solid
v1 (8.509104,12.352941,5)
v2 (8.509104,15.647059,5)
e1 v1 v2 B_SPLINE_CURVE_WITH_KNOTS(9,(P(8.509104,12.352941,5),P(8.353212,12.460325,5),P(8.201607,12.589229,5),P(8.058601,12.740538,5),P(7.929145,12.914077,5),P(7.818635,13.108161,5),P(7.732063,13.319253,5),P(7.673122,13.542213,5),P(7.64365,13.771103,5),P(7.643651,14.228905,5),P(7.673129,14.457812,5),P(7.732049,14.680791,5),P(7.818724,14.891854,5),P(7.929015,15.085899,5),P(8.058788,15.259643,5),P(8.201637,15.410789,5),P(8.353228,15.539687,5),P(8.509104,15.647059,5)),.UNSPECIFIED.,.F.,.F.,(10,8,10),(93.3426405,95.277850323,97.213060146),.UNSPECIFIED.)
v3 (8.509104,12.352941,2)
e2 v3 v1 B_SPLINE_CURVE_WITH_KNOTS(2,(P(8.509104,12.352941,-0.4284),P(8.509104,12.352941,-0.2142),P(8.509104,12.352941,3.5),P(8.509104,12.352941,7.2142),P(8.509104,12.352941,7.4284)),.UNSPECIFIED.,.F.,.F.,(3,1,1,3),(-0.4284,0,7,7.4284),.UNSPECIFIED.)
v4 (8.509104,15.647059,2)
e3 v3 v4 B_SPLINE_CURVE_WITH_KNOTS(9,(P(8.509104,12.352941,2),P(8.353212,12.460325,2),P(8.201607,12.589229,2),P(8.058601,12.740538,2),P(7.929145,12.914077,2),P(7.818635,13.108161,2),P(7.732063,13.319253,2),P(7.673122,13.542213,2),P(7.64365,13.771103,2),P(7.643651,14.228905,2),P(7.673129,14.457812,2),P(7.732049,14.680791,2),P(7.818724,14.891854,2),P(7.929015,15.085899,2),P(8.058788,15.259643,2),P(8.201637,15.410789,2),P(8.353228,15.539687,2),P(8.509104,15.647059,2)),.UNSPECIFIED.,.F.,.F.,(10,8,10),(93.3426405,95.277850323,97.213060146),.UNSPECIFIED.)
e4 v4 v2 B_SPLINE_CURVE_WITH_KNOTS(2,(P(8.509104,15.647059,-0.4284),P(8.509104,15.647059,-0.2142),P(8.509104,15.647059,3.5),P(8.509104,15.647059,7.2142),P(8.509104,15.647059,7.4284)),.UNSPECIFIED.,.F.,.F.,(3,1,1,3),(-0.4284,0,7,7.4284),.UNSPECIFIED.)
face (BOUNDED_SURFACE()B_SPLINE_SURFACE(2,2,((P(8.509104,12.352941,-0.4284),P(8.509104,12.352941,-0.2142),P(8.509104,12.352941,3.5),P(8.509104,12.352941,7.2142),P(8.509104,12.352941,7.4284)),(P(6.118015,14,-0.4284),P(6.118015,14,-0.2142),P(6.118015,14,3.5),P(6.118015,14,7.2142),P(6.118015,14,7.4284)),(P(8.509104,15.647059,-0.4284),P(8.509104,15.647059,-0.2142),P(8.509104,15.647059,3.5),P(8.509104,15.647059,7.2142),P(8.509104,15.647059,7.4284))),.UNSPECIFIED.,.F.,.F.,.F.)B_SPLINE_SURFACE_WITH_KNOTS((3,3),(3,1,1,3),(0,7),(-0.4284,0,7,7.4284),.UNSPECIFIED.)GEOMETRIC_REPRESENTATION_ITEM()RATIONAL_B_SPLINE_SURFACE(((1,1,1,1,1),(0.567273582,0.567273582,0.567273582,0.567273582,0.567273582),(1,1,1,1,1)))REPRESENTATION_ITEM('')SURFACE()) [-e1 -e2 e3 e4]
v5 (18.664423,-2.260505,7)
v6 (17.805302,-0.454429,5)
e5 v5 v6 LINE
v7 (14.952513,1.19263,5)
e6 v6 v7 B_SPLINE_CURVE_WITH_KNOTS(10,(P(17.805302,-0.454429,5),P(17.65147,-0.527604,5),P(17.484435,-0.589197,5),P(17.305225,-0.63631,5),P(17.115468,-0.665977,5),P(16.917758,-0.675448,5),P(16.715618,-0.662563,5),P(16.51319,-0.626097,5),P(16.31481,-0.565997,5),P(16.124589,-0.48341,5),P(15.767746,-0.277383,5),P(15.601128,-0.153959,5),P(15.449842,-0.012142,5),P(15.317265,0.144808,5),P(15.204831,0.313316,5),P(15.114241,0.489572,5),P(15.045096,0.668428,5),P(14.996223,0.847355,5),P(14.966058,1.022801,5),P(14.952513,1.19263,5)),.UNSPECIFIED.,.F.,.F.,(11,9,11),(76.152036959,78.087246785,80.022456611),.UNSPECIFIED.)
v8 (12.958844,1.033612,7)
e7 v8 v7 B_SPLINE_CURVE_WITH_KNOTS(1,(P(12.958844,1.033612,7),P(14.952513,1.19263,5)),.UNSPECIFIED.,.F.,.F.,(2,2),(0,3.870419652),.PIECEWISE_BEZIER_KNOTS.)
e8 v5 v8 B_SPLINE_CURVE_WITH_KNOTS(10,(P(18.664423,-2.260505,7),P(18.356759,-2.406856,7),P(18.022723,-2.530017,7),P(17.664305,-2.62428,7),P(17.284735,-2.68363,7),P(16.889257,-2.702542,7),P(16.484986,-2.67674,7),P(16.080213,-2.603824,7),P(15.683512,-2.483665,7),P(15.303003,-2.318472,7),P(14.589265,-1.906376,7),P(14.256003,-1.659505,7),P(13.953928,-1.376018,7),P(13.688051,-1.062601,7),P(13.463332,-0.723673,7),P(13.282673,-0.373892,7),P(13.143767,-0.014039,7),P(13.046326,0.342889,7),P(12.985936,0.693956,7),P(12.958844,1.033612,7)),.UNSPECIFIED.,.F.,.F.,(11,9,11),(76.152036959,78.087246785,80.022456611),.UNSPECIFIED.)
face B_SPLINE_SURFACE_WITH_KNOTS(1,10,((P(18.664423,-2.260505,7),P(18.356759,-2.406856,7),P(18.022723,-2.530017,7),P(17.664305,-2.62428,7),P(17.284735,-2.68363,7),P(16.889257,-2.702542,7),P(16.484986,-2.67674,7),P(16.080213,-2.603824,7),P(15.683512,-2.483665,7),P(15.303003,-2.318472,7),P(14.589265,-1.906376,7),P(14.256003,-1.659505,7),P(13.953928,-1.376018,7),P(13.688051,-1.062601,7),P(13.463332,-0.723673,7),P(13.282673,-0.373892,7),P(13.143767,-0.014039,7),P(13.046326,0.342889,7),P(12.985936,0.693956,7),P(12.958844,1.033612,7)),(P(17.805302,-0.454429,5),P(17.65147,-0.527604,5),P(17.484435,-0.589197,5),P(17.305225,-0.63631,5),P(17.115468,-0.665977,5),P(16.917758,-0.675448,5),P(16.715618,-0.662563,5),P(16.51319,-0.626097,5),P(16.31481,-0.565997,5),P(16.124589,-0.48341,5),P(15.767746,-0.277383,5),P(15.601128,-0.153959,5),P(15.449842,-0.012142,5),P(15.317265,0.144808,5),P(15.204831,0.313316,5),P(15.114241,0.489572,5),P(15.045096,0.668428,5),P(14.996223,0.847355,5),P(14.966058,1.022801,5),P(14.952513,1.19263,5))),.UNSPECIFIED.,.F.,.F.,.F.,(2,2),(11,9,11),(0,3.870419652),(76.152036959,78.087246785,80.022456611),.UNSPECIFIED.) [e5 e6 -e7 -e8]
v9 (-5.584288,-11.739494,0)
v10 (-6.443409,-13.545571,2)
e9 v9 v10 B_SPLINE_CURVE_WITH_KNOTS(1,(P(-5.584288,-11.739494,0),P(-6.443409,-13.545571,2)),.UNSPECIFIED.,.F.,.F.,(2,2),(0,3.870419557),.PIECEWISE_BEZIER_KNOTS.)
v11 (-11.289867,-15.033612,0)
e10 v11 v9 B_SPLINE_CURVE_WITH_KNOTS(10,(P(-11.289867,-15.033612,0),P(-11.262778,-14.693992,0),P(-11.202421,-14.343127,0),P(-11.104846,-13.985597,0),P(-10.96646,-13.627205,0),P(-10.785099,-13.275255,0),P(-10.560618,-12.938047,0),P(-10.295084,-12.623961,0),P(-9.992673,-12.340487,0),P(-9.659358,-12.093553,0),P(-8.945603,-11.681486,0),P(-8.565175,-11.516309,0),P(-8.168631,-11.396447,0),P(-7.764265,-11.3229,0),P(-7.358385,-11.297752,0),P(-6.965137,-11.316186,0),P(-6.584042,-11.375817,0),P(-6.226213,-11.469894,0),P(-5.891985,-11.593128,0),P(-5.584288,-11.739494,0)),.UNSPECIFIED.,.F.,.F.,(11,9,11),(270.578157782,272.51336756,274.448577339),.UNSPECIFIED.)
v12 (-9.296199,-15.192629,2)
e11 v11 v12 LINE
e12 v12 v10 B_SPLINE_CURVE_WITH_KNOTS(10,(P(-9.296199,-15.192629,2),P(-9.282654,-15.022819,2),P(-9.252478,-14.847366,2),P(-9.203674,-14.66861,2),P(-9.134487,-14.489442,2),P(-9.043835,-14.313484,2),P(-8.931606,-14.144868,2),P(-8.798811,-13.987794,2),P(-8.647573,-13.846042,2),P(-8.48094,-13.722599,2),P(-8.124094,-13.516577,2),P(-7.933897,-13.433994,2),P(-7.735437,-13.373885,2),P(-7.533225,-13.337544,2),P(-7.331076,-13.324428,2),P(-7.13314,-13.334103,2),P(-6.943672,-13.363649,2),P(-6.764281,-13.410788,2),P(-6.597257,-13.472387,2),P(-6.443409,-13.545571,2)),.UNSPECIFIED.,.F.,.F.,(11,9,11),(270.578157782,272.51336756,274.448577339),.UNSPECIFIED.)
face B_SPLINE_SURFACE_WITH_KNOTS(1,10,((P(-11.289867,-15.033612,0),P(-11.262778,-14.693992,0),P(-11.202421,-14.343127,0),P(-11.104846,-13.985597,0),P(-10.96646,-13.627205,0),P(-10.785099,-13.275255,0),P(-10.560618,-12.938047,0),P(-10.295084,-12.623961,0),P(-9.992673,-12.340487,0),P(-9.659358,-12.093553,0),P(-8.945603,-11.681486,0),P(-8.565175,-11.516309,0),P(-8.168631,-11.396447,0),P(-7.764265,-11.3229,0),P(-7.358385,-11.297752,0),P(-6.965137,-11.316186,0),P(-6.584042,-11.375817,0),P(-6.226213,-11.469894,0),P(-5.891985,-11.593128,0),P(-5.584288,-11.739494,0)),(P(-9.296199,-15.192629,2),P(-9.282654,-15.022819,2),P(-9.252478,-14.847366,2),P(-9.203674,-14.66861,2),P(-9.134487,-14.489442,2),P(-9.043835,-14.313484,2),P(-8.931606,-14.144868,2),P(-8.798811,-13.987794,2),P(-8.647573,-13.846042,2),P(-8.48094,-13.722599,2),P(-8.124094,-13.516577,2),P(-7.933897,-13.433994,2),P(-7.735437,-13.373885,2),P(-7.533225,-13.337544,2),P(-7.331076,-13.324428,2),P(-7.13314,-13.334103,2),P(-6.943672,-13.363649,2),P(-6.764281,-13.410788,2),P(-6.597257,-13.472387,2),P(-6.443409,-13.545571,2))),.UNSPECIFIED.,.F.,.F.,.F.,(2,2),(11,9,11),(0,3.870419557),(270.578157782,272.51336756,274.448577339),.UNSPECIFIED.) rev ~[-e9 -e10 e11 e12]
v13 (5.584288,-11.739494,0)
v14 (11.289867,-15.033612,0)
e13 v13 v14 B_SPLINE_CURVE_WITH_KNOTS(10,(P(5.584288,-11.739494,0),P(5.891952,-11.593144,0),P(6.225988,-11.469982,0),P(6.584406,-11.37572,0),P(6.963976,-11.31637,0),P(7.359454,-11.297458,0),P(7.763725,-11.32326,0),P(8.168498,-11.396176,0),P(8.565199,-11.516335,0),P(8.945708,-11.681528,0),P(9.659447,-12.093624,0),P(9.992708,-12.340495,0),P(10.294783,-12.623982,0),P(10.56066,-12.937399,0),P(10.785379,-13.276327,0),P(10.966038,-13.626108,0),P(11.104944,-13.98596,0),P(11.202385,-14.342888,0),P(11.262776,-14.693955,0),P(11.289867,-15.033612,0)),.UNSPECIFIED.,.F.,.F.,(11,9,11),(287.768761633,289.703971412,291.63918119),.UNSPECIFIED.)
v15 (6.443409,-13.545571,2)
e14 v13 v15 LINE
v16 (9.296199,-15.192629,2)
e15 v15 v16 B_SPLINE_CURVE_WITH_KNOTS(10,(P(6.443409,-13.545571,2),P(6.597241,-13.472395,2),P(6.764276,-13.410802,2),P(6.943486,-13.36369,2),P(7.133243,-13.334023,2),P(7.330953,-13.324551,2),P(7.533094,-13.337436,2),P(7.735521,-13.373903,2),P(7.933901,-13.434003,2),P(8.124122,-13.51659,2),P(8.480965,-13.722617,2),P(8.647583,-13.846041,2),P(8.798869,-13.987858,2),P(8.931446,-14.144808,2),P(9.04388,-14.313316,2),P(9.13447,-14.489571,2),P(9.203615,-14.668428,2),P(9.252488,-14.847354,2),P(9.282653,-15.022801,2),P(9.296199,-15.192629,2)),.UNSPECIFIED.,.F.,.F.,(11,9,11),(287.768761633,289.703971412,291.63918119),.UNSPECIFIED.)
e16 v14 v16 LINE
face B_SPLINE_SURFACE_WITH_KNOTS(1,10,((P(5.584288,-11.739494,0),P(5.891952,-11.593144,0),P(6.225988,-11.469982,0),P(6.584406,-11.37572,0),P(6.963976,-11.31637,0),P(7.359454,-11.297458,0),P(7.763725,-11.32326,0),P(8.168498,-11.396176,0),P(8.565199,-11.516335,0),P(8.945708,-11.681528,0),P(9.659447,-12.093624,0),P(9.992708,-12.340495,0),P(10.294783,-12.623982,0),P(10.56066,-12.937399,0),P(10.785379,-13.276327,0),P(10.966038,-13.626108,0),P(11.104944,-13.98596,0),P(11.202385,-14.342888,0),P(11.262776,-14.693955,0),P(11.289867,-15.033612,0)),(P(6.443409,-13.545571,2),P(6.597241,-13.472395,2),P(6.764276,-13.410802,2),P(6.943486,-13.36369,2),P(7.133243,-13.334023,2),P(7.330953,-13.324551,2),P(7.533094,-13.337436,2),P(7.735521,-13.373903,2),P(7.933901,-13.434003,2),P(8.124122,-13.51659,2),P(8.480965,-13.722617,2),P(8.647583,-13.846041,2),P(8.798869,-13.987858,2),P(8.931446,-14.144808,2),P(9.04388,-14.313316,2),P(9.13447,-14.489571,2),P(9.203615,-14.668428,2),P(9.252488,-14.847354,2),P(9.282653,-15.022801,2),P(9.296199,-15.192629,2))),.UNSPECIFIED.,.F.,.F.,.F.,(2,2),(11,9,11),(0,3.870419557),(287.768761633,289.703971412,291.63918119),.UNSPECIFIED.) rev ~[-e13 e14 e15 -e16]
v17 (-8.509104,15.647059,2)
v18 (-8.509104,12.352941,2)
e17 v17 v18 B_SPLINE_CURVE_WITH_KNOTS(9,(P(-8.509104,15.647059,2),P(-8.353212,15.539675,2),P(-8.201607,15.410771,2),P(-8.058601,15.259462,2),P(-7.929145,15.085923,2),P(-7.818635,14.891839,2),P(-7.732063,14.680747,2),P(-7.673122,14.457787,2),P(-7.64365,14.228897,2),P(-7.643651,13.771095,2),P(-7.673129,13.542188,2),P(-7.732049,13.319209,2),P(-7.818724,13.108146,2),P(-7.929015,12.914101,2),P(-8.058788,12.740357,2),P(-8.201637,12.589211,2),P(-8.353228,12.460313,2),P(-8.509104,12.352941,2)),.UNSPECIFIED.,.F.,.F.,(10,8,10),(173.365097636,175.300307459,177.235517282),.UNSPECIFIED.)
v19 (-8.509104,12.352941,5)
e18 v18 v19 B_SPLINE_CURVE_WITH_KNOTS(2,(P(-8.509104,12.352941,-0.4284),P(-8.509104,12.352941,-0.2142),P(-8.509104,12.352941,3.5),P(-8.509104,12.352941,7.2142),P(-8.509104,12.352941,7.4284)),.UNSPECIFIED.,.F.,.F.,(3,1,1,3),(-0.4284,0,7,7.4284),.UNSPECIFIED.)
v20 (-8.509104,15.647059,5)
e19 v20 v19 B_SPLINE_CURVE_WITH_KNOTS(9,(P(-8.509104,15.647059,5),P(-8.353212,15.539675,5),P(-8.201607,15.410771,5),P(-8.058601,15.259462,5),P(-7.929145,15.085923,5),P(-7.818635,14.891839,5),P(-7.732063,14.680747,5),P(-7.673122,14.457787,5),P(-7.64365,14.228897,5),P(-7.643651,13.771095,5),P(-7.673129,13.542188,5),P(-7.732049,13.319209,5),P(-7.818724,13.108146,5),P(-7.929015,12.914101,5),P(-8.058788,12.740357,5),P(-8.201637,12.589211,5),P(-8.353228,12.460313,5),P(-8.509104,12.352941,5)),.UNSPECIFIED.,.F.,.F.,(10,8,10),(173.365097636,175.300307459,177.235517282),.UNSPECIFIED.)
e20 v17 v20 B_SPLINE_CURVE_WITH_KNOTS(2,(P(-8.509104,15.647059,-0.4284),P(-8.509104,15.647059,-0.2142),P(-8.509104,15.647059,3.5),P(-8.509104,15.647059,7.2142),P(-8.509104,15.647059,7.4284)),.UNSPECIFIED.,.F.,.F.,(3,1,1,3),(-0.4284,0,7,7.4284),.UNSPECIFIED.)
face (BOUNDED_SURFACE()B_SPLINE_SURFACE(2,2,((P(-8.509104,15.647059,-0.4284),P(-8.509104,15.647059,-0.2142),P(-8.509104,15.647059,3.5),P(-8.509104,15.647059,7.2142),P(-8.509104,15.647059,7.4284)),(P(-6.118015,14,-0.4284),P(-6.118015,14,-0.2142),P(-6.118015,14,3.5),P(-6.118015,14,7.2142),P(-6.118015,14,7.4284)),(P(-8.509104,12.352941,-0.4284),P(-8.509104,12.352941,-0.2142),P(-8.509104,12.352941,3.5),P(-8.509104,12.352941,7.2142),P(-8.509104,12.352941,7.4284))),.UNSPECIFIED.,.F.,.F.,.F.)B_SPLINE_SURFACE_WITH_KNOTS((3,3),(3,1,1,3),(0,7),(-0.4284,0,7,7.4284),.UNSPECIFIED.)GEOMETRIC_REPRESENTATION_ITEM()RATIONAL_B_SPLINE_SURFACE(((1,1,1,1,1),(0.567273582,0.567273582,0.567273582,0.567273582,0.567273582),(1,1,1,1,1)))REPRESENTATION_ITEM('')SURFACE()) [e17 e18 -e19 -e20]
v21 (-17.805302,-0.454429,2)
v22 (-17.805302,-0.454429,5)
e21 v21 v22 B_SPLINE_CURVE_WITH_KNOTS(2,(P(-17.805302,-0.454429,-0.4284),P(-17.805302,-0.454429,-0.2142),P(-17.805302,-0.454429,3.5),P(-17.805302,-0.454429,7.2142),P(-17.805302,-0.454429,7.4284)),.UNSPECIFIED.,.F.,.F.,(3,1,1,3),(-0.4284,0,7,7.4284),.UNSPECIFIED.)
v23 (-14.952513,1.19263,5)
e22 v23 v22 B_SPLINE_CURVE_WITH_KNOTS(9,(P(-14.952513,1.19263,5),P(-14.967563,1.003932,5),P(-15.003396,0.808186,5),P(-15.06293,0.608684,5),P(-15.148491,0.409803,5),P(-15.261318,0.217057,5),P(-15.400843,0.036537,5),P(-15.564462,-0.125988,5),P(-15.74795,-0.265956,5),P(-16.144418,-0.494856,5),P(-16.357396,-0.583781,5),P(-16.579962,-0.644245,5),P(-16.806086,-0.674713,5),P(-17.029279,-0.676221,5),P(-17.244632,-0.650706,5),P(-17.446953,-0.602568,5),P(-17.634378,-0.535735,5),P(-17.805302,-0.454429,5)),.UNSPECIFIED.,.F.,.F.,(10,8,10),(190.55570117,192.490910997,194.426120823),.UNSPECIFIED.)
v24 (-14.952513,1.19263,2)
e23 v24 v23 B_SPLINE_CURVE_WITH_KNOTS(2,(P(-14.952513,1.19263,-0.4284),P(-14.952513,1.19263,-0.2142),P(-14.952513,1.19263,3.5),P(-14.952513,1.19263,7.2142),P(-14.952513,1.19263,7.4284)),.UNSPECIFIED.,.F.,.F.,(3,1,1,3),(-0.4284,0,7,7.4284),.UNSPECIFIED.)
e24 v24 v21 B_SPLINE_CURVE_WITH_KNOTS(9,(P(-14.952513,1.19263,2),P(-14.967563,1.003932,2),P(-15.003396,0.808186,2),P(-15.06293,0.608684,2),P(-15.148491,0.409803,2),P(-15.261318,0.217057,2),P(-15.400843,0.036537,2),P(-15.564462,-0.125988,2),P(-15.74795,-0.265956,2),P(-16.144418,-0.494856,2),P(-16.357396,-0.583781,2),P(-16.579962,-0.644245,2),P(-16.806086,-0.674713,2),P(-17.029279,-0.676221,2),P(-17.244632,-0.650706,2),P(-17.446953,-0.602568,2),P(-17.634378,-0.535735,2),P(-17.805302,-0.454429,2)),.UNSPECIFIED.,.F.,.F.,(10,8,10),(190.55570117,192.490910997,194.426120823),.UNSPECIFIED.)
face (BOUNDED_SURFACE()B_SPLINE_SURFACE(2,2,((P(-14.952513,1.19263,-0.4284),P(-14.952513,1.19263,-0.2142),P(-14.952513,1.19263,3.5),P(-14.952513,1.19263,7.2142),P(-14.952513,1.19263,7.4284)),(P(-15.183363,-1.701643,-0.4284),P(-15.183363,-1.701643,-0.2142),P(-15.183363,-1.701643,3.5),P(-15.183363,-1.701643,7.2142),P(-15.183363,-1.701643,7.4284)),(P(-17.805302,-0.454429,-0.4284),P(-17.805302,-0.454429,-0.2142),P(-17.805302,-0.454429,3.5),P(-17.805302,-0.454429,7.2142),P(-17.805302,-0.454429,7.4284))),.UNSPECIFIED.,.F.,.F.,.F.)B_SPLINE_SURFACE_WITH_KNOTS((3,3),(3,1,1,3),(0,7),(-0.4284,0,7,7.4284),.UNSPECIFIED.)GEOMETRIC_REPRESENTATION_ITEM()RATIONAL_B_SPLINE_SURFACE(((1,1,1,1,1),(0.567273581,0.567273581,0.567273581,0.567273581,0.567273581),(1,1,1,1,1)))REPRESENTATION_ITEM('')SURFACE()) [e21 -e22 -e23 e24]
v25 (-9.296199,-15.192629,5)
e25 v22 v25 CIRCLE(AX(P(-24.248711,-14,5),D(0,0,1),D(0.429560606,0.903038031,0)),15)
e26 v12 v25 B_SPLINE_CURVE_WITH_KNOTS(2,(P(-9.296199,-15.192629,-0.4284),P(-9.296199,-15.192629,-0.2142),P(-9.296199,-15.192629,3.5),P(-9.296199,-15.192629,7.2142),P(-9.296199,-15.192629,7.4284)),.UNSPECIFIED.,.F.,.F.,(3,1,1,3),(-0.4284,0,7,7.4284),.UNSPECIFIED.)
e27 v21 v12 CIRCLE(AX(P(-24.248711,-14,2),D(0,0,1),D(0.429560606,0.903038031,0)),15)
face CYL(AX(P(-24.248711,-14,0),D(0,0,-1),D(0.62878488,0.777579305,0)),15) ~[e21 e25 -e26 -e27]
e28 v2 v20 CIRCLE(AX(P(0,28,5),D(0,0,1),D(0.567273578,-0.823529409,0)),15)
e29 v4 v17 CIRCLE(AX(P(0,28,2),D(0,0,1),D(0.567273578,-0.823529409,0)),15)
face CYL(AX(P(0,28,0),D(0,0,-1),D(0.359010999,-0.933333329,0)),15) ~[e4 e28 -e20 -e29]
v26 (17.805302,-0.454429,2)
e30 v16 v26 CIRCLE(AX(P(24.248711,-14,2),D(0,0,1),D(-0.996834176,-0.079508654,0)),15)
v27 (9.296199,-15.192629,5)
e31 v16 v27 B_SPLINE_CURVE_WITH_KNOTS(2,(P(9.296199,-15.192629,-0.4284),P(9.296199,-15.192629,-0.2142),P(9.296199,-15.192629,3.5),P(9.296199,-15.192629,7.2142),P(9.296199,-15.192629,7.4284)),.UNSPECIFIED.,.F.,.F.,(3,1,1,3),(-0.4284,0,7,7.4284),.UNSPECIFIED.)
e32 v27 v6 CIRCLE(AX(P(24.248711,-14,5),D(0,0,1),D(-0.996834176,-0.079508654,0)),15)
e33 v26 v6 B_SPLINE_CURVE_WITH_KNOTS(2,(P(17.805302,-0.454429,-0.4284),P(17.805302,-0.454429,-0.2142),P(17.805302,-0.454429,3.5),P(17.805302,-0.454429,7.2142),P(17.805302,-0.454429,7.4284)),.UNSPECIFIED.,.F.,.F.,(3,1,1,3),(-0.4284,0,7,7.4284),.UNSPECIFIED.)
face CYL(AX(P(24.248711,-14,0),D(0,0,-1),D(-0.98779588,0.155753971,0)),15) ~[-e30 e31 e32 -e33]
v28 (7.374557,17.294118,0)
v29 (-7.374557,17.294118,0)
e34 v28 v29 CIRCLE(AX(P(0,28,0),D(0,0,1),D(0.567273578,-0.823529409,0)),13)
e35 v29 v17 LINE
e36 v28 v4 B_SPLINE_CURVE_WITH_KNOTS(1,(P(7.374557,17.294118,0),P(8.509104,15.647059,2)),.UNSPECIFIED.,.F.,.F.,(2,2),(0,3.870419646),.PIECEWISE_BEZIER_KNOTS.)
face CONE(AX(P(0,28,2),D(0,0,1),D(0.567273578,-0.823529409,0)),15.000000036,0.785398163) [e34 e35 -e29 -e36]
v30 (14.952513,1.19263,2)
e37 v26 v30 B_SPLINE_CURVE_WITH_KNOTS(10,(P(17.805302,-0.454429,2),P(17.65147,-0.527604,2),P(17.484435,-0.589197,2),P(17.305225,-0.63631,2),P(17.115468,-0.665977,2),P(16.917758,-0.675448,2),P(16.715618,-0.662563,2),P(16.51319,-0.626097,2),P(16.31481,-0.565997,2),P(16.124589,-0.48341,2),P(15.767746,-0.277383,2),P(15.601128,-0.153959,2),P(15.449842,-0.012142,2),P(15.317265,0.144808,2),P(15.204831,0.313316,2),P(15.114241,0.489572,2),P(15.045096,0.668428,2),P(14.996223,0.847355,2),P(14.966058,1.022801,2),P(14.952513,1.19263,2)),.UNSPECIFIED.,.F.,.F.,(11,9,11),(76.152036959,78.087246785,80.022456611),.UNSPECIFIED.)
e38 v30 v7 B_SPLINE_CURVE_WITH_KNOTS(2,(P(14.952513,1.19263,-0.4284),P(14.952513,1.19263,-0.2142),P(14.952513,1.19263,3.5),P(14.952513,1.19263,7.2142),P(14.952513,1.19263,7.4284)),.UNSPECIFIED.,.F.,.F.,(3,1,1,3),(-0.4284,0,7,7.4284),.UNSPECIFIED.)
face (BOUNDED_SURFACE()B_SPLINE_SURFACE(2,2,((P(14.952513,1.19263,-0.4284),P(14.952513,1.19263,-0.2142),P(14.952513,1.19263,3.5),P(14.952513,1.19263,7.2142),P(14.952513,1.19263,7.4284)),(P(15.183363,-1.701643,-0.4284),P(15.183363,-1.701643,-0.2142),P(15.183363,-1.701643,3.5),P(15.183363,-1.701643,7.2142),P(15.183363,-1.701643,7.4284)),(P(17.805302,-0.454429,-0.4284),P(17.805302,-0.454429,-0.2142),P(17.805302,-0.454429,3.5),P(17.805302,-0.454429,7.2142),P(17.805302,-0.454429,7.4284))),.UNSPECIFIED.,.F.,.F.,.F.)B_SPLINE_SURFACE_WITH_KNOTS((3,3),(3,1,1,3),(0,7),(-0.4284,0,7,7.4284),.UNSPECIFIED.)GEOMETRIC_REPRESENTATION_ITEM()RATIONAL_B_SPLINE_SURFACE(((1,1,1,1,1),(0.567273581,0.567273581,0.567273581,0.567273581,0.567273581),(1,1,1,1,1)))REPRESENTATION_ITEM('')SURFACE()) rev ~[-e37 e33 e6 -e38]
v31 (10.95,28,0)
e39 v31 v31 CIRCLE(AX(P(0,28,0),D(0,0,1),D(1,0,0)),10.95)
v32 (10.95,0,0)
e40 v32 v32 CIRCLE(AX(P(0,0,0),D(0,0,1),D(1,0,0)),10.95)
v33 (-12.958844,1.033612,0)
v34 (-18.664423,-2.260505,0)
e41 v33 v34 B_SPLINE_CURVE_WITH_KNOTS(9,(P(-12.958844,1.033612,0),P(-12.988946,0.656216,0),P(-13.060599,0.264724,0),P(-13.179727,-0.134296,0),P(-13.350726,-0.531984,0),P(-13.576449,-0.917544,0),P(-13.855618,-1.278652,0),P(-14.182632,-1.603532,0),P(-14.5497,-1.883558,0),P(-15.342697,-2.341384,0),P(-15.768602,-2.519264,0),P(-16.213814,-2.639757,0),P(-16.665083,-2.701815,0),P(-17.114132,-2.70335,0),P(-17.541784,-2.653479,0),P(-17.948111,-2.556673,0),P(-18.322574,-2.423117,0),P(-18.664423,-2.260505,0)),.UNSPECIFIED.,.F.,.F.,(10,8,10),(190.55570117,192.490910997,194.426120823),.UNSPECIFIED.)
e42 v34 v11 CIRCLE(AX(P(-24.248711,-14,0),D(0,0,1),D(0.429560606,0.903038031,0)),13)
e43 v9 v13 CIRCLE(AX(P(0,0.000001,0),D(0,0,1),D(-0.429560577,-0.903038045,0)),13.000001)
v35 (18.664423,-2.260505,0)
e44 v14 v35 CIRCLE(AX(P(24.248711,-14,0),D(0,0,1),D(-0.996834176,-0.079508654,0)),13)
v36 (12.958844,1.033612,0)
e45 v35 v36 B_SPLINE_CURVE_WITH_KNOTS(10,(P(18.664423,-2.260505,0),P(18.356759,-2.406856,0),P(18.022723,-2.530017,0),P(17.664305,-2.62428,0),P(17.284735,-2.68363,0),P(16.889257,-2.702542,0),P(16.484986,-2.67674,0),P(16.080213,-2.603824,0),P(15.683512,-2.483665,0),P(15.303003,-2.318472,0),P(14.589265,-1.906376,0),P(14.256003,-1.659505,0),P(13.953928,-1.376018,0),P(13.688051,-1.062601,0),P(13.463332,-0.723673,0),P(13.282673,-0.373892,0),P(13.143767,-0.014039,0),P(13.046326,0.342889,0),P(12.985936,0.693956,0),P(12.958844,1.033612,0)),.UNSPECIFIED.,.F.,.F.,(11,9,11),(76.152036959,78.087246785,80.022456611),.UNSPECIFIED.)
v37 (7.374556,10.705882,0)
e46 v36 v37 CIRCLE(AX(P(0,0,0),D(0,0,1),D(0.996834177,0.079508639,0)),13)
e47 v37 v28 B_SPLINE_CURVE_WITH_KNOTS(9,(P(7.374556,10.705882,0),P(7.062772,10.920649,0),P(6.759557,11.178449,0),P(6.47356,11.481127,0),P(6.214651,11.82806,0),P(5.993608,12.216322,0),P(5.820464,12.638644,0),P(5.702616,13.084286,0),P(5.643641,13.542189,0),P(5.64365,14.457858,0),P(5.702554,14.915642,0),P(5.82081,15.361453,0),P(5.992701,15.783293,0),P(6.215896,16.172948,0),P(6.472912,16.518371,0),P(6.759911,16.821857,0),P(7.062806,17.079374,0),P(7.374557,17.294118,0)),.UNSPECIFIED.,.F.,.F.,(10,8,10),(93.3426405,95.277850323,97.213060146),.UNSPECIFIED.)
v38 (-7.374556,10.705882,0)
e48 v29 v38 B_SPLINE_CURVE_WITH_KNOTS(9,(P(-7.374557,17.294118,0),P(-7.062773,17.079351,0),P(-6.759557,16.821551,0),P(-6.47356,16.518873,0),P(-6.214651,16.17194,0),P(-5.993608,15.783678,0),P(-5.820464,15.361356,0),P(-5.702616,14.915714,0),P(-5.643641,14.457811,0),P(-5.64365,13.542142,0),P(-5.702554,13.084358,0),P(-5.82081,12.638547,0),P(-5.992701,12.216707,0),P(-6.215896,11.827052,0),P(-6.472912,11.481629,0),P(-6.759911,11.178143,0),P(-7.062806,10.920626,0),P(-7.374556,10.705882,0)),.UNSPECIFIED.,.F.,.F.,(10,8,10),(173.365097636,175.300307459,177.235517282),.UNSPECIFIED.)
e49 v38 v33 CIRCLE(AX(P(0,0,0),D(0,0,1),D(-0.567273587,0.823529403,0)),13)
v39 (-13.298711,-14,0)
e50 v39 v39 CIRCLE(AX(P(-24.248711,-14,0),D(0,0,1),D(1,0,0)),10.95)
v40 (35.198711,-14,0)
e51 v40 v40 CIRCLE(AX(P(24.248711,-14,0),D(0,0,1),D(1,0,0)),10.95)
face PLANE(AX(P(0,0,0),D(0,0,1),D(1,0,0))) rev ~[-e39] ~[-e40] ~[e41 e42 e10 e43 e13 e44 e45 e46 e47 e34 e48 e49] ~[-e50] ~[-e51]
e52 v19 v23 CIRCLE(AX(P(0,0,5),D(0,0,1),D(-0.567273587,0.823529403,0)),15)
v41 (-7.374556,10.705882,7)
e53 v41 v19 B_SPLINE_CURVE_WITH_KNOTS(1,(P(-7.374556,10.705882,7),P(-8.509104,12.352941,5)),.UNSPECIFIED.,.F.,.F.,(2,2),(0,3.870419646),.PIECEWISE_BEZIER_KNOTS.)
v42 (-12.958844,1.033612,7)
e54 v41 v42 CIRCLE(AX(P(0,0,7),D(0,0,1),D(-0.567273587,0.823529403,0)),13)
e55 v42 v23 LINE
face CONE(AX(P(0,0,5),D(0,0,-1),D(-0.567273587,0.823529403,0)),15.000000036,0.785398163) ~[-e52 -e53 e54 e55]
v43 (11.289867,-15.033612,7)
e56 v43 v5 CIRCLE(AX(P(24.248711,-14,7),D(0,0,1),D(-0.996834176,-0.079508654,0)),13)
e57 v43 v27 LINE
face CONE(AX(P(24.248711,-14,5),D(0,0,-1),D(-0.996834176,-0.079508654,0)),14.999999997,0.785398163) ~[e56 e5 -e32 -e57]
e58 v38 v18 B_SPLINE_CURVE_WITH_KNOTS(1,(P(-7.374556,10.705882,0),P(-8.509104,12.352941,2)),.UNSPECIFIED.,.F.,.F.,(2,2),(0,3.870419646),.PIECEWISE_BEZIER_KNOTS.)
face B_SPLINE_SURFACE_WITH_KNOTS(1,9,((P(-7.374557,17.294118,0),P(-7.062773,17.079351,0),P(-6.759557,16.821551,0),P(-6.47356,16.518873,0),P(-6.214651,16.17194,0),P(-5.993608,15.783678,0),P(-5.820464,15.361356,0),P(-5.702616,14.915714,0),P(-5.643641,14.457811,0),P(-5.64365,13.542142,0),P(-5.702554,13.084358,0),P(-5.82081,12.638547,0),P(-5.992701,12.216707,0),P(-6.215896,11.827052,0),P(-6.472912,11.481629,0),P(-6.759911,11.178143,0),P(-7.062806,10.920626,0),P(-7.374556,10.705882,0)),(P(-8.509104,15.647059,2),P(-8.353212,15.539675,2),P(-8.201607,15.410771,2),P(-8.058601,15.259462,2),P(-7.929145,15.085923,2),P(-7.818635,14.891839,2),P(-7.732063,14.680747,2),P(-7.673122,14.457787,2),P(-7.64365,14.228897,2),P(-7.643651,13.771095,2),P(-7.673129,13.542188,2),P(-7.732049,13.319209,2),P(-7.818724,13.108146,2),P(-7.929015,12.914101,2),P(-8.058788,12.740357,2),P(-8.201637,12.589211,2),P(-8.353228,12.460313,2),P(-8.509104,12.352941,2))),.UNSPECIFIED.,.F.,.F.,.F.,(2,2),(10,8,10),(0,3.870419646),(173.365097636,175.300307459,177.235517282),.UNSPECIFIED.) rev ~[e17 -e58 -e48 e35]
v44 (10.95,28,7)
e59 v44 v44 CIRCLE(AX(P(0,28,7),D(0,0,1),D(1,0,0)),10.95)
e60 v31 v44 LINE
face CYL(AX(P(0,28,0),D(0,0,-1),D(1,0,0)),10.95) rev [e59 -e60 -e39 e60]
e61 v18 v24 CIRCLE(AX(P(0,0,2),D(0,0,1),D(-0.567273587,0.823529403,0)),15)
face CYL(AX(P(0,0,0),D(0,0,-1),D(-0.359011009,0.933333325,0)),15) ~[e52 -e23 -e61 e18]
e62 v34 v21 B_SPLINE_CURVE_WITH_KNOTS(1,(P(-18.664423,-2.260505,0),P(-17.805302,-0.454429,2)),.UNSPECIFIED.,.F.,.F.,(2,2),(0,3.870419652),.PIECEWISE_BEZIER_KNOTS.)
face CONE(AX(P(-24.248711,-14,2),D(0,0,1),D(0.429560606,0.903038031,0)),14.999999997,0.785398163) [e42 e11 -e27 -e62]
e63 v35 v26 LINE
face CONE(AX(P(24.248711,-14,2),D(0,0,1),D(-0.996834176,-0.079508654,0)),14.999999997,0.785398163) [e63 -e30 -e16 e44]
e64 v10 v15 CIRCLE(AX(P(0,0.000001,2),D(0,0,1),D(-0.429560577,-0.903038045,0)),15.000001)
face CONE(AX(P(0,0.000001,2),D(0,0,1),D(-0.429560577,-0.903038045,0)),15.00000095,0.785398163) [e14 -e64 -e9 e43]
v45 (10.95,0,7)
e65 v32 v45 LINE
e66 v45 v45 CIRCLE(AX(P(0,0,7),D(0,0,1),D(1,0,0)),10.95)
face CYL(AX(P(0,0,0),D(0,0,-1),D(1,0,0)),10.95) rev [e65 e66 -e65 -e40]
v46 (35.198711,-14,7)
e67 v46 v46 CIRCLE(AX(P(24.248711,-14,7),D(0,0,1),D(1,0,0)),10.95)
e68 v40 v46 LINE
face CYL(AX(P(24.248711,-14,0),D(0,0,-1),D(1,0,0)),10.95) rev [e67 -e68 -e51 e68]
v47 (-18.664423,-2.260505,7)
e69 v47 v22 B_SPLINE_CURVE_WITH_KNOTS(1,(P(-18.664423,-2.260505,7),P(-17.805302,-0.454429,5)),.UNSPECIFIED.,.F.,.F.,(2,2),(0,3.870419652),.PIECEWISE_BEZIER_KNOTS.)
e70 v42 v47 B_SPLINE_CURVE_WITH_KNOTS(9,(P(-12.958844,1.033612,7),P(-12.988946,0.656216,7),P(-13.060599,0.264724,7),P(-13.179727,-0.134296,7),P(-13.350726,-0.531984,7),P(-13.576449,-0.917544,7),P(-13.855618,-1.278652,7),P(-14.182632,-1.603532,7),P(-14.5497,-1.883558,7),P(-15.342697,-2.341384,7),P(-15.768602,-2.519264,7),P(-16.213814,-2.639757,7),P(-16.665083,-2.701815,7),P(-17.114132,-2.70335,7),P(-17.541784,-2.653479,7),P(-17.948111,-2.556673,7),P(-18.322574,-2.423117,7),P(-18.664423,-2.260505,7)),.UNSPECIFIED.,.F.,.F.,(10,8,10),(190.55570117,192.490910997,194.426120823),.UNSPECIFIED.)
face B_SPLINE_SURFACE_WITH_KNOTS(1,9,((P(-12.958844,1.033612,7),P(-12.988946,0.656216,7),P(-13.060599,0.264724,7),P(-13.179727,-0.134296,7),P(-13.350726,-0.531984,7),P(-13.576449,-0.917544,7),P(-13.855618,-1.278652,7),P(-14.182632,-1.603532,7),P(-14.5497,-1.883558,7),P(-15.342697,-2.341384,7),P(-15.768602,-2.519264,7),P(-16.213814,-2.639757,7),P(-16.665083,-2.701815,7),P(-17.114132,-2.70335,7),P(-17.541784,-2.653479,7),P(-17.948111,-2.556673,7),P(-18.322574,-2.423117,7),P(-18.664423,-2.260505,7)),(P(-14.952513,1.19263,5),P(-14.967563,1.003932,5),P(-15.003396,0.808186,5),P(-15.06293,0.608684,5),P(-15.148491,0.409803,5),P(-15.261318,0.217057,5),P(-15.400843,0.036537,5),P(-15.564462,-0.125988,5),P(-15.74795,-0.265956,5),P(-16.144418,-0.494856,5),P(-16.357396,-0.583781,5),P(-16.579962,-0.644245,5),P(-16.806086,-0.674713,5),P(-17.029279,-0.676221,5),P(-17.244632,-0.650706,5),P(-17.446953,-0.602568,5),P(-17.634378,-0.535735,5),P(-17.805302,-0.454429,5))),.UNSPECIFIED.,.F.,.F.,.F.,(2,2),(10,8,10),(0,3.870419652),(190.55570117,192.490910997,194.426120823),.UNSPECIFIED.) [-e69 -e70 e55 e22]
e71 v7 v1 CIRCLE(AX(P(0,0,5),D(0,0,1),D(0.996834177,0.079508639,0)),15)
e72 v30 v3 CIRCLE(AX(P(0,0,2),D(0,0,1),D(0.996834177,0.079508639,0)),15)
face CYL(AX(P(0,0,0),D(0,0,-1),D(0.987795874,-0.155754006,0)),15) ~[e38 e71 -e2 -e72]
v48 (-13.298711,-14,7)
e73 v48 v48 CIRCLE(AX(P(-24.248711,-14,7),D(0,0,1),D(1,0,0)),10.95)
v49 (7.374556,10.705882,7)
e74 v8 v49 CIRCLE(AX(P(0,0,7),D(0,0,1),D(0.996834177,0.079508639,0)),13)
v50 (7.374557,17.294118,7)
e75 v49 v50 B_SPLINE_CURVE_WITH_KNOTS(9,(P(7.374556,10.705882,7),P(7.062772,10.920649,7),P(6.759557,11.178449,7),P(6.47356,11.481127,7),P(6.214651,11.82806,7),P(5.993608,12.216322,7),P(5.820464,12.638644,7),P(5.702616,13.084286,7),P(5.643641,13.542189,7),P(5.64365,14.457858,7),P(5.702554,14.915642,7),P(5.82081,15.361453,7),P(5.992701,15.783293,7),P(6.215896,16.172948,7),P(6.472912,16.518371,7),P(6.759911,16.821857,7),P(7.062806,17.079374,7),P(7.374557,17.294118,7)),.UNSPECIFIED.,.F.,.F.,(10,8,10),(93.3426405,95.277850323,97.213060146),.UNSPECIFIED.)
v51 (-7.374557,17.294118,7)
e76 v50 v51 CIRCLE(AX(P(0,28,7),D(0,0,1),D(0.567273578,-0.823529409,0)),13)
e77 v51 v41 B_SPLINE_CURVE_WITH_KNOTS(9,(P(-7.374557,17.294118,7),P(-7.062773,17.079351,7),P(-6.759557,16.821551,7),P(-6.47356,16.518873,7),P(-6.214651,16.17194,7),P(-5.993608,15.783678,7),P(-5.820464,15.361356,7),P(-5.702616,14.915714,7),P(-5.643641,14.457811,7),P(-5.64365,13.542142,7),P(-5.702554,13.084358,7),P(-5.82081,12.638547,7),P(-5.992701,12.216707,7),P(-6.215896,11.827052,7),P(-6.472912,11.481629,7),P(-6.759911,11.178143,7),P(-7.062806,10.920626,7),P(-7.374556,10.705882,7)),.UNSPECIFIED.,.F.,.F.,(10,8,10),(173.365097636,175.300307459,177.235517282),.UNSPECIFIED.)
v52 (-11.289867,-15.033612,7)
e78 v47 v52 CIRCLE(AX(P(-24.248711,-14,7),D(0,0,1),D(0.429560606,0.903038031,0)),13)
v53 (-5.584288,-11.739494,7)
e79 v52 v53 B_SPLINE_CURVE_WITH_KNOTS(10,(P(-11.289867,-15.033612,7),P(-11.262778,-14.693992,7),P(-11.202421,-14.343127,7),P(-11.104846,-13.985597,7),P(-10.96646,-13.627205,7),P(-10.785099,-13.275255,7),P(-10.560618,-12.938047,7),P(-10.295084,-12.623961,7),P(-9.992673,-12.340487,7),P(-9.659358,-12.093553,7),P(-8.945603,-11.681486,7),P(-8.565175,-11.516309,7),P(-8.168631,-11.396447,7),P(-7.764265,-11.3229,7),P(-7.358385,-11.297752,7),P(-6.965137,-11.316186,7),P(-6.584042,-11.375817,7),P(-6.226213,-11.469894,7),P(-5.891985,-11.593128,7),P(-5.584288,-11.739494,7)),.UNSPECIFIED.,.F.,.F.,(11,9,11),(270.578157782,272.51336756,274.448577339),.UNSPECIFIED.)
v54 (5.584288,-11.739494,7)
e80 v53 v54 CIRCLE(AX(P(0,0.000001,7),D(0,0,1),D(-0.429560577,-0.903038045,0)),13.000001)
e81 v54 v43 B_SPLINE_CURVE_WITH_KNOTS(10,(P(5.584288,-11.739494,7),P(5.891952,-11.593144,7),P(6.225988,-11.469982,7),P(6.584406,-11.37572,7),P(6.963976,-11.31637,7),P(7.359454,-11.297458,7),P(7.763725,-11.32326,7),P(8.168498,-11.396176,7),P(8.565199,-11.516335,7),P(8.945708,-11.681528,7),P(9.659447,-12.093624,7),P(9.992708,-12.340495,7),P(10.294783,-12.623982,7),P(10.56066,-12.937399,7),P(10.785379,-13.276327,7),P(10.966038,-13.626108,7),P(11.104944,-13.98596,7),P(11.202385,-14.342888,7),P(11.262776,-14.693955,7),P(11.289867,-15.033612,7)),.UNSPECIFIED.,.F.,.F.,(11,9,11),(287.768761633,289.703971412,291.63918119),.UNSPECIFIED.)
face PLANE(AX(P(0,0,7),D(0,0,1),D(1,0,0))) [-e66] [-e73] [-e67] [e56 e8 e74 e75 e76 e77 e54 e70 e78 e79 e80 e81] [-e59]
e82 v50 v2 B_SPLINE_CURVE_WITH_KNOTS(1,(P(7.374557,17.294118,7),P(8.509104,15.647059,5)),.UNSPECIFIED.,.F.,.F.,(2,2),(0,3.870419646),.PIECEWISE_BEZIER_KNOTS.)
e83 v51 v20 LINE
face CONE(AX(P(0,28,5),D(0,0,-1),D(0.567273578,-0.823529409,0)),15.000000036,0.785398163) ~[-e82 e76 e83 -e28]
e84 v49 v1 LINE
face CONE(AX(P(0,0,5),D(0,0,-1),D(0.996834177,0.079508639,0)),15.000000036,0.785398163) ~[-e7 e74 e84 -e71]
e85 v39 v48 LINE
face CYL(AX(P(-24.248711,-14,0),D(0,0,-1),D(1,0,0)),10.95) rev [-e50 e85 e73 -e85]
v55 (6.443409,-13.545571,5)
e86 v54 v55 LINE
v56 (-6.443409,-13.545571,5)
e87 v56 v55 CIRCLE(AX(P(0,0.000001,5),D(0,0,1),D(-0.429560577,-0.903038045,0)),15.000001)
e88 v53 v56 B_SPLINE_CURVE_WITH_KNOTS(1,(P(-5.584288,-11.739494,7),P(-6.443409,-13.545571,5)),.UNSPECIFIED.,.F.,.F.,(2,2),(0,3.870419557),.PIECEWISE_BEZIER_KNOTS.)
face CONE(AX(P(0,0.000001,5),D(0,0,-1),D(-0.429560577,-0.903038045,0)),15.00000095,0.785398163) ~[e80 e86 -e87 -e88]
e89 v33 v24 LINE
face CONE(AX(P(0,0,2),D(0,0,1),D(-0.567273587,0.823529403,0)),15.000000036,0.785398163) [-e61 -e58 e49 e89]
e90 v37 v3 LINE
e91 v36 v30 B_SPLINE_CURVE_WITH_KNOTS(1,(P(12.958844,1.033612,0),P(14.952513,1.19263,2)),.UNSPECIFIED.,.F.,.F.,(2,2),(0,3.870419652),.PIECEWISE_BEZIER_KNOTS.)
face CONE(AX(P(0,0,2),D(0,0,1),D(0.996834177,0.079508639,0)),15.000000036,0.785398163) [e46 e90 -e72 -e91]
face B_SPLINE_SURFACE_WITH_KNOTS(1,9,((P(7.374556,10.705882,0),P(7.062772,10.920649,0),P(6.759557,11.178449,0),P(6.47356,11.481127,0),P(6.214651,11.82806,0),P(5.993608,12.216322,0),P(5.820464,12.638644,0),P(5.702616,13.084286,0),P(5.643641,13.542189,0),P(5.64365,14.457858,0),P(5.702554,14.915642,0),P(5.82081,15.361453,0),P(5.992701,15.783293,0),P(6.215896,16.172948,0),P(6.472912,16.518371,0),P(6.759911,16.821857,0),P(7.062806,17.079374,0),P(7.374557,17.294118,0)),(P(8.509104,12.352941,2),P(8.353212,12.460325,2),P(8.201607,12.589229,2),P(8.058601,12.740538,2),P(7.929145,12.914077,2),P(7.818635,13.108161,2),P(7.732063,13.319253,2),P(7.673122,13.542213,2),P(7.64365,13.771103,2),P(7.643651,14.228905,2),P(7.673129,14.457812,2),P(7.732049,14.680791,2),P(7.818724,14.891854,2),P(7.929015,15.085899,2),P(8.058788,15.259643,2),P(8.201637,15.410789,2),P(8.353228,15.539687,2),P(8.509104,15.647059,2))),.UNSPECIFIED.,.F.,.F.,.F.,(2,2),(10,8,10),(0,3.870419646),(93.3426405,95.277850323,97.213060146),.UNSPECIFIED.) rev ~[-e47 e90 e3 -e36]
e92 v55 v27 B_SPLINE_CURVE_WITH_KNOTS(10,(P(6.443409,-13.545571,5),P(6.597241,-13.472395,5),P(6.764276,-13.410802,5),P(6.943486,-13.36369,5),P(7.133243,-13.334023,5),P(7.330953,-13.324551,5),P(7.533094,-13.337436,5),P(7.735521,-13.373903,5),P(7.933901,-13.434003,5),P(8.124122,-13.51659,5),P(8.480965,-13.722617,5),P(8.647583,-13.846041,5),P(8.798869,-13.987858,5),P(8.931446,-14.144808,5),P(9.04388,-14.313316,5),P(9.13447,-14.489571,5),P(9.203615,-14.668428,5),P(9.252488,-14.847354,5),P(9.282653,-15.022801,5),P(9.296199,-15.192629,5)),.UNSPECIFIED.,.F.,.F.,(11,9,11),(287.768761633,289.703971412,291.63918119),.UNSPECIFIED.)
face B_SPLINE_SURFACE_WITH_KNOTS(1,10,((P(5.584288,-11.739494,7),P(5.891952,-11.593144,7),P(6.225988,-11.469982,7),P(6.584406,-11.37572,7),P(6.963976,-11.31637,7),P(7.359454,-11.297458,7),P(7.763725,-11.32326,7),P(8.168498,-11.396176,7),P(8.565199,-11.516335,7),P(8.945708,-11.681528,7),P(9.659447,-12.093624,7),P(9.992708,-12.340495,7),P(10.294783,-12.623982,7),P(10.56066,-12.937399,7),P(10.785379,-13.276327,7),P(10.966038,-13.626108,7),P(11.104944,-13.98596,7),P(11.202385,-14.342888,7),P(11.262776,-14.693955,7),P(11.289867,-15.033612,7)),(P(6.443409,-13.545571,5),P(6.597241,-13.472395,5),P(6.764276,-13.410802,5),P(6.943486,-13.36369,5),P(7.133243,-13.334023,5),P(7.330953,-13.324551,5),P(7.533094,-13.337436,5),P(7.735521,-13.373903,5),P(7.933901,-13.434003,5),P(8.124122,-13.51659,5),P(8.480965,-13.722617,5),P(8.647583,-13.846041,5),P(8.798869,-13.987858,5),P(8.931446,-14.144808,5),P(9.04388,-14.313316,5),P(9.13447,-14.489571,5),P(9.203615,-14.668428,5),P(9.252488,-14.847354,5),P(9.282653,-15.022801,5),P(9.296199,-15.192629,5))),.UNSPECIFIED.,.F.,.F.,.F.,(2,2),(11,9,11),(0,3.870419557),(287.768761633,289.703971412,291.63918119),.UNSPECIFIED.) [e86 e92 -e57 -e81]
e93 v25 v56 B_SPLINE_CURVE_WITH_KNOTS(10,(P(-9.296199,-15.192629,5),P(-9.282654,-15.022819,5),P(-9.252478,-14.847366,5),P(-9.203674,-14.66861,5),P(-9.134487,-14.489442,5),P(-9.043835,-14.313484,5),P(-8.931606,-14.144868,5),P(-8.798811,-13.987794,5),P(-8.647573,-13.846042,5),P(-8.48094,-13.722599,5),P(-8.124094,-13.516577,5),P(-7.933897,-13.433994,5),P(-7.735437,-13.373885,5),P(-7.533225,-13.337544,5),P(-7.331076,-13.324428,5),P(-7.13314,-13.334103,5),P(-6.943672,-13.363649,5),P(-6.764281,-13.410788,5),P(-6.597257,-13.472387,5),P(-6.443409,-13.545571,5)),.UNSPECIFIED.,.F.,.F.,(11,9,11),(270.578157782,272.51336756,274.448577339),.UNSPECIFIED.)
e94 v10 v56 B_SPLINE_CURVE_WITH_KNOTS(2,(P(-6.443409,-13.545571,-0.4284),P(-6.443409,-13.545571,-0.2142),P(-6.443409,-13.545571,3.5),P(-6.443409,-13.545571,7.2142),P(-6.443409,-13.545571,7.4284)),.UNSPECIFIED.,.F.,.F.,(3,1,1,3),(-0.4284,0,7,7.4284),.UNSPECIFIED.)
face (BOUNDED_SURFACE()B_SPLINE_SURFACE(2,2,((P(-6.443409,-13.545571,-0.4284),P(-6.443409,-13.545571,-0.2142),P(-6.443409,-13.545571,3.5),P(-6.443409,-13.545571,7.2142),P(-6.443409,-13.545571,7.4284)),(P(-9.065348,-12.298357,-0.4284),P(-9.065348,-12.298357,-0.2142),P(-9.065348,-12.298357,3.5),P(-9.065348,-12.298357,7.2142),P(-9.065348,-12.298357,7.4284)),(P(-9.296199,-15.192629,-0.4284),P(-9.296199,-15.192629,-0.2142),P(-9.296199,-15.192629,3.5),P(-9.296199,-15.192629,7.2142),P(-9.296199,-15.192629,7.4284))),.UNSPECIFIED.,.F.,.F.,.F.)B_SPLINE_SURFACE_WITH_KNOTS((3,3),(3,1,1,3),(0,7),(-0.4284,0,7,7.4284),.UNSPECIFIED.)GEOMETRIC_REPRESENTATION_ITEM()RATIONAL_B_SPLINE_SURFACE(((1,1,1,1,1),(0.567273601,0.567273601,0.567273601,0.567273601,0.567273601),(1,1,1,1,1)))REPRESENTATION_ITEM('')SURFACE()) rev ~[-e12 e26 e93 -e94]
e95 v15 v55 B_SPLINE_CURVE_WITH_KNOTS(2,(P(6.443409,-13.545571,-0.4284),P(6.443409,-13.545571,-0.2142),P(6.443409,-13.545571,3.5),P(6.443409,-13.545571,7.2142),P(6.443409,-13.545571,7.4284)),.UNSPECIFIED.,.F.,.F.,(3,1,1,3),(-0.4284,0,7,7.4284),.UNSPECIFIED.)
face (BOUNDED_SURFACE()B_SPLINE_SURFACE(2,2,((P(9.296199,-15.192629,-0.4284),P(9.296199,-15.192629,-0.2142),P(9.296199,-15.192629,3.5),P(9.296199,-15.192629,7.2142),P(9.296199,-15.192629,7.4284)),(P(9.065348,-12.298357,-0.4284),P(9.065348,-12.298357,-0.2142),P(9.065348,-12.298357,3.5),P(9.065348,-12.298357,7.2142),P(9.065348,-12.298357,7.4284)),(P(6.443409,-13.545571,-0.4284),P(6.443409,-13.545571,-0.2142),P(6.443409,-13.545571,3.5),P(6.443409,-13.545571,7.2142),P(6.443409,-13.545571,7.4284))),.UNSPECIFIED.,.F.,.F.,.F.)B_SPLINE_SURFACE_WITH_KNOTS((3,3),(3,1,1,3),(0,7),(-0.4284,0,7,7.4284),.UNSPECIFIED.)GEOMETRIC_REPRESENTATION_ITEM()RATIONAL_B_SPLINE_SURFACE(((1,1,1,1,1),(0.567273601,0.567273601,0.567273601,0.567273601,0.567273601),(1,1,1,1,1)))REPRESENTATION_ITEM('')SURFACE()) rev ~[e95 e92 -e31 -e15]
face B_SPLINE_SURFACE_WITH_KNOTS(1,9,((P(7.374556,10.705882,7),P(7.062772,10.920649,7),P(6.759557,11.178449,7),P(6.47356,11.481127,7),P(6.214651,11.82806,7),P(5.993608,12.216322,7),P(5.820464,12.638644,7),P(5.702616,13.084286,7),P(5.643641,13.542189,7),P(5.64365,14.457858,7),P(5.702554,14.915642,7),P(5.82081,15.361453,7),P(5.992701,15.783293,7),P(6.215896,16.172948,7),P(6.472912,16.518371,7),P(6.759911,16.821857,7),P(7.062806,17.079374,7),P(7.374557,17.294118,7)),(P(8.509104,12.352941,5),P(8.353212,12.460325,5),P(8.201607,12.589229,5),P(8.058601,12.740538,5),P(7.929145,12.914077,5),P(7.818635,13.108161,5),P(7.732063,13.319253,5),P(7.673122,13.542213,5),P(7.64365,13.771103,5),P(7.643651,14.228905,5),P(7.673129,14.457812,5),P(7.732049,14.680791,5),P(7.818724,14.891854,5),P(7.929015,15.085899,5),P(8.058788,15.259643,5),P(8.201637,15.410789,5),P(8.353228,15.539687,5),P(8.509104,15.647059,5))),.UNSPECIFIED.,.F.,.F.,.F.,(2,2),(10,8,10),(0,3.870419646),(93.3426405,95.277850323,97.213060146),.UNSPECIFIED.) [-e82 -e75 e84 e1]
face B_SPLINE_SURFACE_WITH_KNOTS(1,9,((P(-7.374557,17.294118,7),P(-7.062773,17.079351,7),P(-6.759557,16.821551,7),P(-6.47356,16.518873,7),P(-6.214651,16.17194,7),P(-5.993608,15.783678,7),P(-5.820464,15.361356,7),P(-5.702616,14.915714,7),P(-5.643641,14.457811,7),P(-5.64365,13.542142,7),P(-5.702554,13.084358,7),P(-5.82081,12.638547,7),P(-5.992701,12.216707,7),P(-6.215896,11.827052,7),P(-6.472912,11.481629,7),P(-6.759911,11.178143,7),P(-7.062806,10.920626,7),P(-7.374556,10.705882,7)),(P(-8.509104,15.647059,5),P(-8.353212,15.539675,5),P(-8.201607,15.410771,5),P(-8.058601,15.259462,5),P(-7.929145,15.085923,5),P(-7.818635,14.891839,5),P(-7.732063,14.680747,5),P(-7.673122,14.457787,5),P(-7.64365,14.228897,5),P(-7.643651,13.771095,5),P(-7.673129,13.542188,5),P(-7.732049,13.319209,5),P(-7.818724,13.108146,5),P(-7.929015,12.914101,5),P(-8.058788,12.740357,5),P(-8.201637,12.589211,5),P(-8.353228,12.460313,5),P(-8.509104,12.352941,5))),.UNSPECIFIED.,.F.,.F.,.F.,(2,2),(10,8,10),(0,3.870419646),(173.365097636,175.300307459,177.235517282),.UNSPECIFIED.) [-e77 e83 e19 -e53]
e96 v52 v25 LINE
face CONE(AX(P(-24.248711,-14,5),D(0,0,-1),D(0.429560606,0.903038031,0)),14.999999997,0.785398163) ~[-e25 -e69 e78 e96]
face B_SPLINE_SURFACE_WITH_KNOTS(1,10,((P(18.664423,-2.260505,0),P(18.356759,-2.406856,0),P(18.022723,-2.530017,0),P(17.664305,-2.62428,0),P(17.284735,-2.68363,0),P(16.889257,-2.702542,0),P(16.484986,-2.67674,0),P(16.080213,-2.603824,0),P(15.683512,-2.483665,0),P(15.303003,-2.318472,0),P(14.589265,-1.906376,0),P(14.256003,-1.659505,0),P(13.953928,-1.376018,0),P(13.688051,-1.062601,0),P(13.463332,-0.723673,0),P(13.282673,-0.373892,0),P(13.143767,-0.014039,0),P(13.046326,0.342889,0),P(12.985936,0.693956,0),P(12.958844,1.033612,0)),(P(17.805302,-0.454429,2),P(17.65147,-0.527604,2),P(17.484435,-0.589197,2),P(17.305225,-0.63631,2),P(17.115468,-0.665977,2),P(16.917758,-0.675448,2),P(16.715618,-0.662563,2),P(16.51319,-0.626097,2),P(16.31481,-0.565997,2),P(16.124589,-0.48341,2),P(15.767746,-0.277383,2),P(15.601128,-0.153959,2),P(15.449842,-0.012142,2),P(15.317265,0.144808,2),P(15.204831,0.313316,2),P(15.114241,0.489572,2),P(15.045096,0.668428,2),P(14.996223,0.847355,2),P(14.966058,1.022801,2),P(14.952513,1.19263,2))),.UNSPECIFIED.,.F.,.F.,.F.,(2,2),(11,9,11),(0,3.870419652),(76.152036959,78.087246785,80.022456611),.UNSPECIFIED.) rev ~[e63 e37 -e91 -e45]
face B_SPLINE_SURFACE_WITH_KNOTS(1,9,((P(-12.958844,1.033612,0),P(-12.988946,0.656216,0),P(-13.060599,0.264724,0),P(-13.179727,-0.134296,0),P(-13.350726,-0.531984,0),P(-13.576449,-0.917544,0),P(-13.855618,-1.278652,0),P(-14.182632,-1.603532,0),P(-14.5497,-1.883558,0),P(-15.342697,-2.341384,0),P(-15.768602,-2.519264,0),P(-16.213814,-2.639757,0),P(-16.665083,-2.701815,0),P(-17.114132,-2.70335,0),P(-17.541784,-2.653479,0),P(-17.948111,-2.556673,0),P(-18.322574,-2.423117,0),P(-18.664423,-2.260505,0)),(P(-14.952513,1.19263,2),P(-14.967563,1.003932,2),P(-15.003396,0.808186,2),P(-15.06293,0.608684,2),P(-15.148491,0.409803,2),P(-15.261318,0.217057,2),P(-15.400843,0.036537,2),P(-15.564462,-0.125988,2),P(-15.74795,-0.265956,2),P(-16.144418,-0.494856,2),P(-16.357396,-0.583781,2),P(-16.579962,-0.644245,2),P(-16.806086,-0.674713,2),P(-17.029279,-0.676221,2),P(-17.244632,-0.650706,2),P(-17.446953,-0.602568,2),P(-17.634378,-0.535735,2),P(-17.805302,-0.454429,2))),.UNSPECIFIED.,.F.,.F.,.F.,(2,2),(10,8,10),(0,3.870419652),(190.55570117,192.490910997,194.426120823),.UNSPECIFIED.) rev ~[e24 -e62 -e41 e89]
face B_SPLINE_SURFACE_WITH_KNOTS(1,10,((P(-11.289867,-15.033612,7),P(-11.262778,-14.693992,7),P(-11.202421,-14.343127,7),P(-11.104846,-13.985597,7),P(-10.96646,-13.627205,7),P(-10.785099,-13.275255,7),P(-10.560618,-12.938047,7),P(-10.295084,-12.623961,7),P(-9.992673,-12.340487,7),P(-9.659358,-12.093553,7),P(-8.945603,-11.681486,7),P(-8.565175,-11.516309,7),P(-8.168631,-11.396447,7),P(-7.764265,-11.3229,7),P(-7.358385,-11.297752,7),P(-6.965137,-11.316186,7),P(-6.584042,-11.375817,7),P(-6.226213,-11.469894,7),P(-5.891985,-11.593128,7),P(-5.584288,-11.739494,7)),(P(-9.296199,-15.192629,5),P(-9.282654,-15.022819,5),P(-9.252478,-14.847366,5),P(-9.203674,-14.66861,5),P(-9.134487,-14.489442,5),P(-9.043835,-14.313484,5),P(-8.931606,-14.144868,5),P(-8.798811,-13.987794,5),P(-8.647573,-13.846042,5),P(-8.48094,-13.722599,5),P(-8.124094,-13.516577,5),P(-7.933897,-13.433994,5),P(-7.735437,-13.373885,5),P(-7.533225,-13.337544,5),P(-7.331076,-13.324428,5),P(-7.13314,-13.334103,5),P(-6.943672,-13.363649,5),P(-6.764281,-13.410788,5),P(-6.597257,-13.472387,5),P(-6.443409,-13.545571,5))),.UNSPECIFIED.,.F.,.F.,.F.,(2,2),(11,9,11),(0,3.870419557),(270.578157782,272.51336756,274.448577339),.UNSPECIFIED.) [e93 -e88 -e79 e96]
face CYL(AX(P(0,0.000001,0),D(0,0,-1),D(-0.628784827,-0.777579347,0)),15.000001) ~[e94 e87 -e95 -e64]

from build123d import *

# Parameters (mm, degrees)
F0_R     = 10.95
F1_DEPTH = 7
F2_R     = 2
F3_SIZE  = 2


with BuildPart() as f1:
    # F0 (on Top) → F1 (new body)
    with BuildSketch(Plane.XY):
        with BuildLine():
            ThreePointArc((14.816938, -2.33631), (12.990381, 7.5), (5.385165, 14))
            ThreePointArc((5.385165, 14), (0, 43), (-5.385165, 14))
            ThreePointArc((-5.385165, 14), (-12.990381, 7.5), (-14.816938, -2.33631))
            ThreePointArc((-14.816938, -2.33631), (-37.239092, -21.5), (-9.431773, -11.66369))
            ThreePointArc((-9.431773, -11.66369), (0, -15), (9.431773, -11.66369))
            ThreePointArc((9.431773, -11.66369), (37.239092, -21.5), (14.816938, -2.33631))
        make_face()
        with Locations((-24.248711, -14)):
            Circle(F0_R, mode=Mode.SUBTRACT)
        with Locations((24.248711, -14)):
            Circle(F0_R, mode=Mode.SUBTRACT)
        Circle(F0_R, mode=Mode.SUBTRACT)
        with Locations((0, 28)):
            Circle(F0_R, mode=Mode.SUBTRACT)
    extrude(amount=F1_DEPTH)

    # F2
    f2_edges = [f1.edges().sort_by_distance(p)[0] for p in [
        (-9.431773, -11.66369, 3.5),
        (9.431773, -11.66369, 3.5),
        (14.816938, -2.33631, 3.5),
        (5.385165, 14, 3.5),
        (-5.385165, 14, 3.5),
        (-14.816938, -2.33631, 3.5),
    ]]
    fillet(f2_edges, radius=F2_R)

    # F3
    f3_edges = [f1.edges().sort_by_distance(p)[0] for p in [
        (37.239092, -21.5, 0),
        (37.239092, -21.5, 7),
    ]]
    chamfer(f3_edges, length=F3_SIZE)


solid = f1.part
